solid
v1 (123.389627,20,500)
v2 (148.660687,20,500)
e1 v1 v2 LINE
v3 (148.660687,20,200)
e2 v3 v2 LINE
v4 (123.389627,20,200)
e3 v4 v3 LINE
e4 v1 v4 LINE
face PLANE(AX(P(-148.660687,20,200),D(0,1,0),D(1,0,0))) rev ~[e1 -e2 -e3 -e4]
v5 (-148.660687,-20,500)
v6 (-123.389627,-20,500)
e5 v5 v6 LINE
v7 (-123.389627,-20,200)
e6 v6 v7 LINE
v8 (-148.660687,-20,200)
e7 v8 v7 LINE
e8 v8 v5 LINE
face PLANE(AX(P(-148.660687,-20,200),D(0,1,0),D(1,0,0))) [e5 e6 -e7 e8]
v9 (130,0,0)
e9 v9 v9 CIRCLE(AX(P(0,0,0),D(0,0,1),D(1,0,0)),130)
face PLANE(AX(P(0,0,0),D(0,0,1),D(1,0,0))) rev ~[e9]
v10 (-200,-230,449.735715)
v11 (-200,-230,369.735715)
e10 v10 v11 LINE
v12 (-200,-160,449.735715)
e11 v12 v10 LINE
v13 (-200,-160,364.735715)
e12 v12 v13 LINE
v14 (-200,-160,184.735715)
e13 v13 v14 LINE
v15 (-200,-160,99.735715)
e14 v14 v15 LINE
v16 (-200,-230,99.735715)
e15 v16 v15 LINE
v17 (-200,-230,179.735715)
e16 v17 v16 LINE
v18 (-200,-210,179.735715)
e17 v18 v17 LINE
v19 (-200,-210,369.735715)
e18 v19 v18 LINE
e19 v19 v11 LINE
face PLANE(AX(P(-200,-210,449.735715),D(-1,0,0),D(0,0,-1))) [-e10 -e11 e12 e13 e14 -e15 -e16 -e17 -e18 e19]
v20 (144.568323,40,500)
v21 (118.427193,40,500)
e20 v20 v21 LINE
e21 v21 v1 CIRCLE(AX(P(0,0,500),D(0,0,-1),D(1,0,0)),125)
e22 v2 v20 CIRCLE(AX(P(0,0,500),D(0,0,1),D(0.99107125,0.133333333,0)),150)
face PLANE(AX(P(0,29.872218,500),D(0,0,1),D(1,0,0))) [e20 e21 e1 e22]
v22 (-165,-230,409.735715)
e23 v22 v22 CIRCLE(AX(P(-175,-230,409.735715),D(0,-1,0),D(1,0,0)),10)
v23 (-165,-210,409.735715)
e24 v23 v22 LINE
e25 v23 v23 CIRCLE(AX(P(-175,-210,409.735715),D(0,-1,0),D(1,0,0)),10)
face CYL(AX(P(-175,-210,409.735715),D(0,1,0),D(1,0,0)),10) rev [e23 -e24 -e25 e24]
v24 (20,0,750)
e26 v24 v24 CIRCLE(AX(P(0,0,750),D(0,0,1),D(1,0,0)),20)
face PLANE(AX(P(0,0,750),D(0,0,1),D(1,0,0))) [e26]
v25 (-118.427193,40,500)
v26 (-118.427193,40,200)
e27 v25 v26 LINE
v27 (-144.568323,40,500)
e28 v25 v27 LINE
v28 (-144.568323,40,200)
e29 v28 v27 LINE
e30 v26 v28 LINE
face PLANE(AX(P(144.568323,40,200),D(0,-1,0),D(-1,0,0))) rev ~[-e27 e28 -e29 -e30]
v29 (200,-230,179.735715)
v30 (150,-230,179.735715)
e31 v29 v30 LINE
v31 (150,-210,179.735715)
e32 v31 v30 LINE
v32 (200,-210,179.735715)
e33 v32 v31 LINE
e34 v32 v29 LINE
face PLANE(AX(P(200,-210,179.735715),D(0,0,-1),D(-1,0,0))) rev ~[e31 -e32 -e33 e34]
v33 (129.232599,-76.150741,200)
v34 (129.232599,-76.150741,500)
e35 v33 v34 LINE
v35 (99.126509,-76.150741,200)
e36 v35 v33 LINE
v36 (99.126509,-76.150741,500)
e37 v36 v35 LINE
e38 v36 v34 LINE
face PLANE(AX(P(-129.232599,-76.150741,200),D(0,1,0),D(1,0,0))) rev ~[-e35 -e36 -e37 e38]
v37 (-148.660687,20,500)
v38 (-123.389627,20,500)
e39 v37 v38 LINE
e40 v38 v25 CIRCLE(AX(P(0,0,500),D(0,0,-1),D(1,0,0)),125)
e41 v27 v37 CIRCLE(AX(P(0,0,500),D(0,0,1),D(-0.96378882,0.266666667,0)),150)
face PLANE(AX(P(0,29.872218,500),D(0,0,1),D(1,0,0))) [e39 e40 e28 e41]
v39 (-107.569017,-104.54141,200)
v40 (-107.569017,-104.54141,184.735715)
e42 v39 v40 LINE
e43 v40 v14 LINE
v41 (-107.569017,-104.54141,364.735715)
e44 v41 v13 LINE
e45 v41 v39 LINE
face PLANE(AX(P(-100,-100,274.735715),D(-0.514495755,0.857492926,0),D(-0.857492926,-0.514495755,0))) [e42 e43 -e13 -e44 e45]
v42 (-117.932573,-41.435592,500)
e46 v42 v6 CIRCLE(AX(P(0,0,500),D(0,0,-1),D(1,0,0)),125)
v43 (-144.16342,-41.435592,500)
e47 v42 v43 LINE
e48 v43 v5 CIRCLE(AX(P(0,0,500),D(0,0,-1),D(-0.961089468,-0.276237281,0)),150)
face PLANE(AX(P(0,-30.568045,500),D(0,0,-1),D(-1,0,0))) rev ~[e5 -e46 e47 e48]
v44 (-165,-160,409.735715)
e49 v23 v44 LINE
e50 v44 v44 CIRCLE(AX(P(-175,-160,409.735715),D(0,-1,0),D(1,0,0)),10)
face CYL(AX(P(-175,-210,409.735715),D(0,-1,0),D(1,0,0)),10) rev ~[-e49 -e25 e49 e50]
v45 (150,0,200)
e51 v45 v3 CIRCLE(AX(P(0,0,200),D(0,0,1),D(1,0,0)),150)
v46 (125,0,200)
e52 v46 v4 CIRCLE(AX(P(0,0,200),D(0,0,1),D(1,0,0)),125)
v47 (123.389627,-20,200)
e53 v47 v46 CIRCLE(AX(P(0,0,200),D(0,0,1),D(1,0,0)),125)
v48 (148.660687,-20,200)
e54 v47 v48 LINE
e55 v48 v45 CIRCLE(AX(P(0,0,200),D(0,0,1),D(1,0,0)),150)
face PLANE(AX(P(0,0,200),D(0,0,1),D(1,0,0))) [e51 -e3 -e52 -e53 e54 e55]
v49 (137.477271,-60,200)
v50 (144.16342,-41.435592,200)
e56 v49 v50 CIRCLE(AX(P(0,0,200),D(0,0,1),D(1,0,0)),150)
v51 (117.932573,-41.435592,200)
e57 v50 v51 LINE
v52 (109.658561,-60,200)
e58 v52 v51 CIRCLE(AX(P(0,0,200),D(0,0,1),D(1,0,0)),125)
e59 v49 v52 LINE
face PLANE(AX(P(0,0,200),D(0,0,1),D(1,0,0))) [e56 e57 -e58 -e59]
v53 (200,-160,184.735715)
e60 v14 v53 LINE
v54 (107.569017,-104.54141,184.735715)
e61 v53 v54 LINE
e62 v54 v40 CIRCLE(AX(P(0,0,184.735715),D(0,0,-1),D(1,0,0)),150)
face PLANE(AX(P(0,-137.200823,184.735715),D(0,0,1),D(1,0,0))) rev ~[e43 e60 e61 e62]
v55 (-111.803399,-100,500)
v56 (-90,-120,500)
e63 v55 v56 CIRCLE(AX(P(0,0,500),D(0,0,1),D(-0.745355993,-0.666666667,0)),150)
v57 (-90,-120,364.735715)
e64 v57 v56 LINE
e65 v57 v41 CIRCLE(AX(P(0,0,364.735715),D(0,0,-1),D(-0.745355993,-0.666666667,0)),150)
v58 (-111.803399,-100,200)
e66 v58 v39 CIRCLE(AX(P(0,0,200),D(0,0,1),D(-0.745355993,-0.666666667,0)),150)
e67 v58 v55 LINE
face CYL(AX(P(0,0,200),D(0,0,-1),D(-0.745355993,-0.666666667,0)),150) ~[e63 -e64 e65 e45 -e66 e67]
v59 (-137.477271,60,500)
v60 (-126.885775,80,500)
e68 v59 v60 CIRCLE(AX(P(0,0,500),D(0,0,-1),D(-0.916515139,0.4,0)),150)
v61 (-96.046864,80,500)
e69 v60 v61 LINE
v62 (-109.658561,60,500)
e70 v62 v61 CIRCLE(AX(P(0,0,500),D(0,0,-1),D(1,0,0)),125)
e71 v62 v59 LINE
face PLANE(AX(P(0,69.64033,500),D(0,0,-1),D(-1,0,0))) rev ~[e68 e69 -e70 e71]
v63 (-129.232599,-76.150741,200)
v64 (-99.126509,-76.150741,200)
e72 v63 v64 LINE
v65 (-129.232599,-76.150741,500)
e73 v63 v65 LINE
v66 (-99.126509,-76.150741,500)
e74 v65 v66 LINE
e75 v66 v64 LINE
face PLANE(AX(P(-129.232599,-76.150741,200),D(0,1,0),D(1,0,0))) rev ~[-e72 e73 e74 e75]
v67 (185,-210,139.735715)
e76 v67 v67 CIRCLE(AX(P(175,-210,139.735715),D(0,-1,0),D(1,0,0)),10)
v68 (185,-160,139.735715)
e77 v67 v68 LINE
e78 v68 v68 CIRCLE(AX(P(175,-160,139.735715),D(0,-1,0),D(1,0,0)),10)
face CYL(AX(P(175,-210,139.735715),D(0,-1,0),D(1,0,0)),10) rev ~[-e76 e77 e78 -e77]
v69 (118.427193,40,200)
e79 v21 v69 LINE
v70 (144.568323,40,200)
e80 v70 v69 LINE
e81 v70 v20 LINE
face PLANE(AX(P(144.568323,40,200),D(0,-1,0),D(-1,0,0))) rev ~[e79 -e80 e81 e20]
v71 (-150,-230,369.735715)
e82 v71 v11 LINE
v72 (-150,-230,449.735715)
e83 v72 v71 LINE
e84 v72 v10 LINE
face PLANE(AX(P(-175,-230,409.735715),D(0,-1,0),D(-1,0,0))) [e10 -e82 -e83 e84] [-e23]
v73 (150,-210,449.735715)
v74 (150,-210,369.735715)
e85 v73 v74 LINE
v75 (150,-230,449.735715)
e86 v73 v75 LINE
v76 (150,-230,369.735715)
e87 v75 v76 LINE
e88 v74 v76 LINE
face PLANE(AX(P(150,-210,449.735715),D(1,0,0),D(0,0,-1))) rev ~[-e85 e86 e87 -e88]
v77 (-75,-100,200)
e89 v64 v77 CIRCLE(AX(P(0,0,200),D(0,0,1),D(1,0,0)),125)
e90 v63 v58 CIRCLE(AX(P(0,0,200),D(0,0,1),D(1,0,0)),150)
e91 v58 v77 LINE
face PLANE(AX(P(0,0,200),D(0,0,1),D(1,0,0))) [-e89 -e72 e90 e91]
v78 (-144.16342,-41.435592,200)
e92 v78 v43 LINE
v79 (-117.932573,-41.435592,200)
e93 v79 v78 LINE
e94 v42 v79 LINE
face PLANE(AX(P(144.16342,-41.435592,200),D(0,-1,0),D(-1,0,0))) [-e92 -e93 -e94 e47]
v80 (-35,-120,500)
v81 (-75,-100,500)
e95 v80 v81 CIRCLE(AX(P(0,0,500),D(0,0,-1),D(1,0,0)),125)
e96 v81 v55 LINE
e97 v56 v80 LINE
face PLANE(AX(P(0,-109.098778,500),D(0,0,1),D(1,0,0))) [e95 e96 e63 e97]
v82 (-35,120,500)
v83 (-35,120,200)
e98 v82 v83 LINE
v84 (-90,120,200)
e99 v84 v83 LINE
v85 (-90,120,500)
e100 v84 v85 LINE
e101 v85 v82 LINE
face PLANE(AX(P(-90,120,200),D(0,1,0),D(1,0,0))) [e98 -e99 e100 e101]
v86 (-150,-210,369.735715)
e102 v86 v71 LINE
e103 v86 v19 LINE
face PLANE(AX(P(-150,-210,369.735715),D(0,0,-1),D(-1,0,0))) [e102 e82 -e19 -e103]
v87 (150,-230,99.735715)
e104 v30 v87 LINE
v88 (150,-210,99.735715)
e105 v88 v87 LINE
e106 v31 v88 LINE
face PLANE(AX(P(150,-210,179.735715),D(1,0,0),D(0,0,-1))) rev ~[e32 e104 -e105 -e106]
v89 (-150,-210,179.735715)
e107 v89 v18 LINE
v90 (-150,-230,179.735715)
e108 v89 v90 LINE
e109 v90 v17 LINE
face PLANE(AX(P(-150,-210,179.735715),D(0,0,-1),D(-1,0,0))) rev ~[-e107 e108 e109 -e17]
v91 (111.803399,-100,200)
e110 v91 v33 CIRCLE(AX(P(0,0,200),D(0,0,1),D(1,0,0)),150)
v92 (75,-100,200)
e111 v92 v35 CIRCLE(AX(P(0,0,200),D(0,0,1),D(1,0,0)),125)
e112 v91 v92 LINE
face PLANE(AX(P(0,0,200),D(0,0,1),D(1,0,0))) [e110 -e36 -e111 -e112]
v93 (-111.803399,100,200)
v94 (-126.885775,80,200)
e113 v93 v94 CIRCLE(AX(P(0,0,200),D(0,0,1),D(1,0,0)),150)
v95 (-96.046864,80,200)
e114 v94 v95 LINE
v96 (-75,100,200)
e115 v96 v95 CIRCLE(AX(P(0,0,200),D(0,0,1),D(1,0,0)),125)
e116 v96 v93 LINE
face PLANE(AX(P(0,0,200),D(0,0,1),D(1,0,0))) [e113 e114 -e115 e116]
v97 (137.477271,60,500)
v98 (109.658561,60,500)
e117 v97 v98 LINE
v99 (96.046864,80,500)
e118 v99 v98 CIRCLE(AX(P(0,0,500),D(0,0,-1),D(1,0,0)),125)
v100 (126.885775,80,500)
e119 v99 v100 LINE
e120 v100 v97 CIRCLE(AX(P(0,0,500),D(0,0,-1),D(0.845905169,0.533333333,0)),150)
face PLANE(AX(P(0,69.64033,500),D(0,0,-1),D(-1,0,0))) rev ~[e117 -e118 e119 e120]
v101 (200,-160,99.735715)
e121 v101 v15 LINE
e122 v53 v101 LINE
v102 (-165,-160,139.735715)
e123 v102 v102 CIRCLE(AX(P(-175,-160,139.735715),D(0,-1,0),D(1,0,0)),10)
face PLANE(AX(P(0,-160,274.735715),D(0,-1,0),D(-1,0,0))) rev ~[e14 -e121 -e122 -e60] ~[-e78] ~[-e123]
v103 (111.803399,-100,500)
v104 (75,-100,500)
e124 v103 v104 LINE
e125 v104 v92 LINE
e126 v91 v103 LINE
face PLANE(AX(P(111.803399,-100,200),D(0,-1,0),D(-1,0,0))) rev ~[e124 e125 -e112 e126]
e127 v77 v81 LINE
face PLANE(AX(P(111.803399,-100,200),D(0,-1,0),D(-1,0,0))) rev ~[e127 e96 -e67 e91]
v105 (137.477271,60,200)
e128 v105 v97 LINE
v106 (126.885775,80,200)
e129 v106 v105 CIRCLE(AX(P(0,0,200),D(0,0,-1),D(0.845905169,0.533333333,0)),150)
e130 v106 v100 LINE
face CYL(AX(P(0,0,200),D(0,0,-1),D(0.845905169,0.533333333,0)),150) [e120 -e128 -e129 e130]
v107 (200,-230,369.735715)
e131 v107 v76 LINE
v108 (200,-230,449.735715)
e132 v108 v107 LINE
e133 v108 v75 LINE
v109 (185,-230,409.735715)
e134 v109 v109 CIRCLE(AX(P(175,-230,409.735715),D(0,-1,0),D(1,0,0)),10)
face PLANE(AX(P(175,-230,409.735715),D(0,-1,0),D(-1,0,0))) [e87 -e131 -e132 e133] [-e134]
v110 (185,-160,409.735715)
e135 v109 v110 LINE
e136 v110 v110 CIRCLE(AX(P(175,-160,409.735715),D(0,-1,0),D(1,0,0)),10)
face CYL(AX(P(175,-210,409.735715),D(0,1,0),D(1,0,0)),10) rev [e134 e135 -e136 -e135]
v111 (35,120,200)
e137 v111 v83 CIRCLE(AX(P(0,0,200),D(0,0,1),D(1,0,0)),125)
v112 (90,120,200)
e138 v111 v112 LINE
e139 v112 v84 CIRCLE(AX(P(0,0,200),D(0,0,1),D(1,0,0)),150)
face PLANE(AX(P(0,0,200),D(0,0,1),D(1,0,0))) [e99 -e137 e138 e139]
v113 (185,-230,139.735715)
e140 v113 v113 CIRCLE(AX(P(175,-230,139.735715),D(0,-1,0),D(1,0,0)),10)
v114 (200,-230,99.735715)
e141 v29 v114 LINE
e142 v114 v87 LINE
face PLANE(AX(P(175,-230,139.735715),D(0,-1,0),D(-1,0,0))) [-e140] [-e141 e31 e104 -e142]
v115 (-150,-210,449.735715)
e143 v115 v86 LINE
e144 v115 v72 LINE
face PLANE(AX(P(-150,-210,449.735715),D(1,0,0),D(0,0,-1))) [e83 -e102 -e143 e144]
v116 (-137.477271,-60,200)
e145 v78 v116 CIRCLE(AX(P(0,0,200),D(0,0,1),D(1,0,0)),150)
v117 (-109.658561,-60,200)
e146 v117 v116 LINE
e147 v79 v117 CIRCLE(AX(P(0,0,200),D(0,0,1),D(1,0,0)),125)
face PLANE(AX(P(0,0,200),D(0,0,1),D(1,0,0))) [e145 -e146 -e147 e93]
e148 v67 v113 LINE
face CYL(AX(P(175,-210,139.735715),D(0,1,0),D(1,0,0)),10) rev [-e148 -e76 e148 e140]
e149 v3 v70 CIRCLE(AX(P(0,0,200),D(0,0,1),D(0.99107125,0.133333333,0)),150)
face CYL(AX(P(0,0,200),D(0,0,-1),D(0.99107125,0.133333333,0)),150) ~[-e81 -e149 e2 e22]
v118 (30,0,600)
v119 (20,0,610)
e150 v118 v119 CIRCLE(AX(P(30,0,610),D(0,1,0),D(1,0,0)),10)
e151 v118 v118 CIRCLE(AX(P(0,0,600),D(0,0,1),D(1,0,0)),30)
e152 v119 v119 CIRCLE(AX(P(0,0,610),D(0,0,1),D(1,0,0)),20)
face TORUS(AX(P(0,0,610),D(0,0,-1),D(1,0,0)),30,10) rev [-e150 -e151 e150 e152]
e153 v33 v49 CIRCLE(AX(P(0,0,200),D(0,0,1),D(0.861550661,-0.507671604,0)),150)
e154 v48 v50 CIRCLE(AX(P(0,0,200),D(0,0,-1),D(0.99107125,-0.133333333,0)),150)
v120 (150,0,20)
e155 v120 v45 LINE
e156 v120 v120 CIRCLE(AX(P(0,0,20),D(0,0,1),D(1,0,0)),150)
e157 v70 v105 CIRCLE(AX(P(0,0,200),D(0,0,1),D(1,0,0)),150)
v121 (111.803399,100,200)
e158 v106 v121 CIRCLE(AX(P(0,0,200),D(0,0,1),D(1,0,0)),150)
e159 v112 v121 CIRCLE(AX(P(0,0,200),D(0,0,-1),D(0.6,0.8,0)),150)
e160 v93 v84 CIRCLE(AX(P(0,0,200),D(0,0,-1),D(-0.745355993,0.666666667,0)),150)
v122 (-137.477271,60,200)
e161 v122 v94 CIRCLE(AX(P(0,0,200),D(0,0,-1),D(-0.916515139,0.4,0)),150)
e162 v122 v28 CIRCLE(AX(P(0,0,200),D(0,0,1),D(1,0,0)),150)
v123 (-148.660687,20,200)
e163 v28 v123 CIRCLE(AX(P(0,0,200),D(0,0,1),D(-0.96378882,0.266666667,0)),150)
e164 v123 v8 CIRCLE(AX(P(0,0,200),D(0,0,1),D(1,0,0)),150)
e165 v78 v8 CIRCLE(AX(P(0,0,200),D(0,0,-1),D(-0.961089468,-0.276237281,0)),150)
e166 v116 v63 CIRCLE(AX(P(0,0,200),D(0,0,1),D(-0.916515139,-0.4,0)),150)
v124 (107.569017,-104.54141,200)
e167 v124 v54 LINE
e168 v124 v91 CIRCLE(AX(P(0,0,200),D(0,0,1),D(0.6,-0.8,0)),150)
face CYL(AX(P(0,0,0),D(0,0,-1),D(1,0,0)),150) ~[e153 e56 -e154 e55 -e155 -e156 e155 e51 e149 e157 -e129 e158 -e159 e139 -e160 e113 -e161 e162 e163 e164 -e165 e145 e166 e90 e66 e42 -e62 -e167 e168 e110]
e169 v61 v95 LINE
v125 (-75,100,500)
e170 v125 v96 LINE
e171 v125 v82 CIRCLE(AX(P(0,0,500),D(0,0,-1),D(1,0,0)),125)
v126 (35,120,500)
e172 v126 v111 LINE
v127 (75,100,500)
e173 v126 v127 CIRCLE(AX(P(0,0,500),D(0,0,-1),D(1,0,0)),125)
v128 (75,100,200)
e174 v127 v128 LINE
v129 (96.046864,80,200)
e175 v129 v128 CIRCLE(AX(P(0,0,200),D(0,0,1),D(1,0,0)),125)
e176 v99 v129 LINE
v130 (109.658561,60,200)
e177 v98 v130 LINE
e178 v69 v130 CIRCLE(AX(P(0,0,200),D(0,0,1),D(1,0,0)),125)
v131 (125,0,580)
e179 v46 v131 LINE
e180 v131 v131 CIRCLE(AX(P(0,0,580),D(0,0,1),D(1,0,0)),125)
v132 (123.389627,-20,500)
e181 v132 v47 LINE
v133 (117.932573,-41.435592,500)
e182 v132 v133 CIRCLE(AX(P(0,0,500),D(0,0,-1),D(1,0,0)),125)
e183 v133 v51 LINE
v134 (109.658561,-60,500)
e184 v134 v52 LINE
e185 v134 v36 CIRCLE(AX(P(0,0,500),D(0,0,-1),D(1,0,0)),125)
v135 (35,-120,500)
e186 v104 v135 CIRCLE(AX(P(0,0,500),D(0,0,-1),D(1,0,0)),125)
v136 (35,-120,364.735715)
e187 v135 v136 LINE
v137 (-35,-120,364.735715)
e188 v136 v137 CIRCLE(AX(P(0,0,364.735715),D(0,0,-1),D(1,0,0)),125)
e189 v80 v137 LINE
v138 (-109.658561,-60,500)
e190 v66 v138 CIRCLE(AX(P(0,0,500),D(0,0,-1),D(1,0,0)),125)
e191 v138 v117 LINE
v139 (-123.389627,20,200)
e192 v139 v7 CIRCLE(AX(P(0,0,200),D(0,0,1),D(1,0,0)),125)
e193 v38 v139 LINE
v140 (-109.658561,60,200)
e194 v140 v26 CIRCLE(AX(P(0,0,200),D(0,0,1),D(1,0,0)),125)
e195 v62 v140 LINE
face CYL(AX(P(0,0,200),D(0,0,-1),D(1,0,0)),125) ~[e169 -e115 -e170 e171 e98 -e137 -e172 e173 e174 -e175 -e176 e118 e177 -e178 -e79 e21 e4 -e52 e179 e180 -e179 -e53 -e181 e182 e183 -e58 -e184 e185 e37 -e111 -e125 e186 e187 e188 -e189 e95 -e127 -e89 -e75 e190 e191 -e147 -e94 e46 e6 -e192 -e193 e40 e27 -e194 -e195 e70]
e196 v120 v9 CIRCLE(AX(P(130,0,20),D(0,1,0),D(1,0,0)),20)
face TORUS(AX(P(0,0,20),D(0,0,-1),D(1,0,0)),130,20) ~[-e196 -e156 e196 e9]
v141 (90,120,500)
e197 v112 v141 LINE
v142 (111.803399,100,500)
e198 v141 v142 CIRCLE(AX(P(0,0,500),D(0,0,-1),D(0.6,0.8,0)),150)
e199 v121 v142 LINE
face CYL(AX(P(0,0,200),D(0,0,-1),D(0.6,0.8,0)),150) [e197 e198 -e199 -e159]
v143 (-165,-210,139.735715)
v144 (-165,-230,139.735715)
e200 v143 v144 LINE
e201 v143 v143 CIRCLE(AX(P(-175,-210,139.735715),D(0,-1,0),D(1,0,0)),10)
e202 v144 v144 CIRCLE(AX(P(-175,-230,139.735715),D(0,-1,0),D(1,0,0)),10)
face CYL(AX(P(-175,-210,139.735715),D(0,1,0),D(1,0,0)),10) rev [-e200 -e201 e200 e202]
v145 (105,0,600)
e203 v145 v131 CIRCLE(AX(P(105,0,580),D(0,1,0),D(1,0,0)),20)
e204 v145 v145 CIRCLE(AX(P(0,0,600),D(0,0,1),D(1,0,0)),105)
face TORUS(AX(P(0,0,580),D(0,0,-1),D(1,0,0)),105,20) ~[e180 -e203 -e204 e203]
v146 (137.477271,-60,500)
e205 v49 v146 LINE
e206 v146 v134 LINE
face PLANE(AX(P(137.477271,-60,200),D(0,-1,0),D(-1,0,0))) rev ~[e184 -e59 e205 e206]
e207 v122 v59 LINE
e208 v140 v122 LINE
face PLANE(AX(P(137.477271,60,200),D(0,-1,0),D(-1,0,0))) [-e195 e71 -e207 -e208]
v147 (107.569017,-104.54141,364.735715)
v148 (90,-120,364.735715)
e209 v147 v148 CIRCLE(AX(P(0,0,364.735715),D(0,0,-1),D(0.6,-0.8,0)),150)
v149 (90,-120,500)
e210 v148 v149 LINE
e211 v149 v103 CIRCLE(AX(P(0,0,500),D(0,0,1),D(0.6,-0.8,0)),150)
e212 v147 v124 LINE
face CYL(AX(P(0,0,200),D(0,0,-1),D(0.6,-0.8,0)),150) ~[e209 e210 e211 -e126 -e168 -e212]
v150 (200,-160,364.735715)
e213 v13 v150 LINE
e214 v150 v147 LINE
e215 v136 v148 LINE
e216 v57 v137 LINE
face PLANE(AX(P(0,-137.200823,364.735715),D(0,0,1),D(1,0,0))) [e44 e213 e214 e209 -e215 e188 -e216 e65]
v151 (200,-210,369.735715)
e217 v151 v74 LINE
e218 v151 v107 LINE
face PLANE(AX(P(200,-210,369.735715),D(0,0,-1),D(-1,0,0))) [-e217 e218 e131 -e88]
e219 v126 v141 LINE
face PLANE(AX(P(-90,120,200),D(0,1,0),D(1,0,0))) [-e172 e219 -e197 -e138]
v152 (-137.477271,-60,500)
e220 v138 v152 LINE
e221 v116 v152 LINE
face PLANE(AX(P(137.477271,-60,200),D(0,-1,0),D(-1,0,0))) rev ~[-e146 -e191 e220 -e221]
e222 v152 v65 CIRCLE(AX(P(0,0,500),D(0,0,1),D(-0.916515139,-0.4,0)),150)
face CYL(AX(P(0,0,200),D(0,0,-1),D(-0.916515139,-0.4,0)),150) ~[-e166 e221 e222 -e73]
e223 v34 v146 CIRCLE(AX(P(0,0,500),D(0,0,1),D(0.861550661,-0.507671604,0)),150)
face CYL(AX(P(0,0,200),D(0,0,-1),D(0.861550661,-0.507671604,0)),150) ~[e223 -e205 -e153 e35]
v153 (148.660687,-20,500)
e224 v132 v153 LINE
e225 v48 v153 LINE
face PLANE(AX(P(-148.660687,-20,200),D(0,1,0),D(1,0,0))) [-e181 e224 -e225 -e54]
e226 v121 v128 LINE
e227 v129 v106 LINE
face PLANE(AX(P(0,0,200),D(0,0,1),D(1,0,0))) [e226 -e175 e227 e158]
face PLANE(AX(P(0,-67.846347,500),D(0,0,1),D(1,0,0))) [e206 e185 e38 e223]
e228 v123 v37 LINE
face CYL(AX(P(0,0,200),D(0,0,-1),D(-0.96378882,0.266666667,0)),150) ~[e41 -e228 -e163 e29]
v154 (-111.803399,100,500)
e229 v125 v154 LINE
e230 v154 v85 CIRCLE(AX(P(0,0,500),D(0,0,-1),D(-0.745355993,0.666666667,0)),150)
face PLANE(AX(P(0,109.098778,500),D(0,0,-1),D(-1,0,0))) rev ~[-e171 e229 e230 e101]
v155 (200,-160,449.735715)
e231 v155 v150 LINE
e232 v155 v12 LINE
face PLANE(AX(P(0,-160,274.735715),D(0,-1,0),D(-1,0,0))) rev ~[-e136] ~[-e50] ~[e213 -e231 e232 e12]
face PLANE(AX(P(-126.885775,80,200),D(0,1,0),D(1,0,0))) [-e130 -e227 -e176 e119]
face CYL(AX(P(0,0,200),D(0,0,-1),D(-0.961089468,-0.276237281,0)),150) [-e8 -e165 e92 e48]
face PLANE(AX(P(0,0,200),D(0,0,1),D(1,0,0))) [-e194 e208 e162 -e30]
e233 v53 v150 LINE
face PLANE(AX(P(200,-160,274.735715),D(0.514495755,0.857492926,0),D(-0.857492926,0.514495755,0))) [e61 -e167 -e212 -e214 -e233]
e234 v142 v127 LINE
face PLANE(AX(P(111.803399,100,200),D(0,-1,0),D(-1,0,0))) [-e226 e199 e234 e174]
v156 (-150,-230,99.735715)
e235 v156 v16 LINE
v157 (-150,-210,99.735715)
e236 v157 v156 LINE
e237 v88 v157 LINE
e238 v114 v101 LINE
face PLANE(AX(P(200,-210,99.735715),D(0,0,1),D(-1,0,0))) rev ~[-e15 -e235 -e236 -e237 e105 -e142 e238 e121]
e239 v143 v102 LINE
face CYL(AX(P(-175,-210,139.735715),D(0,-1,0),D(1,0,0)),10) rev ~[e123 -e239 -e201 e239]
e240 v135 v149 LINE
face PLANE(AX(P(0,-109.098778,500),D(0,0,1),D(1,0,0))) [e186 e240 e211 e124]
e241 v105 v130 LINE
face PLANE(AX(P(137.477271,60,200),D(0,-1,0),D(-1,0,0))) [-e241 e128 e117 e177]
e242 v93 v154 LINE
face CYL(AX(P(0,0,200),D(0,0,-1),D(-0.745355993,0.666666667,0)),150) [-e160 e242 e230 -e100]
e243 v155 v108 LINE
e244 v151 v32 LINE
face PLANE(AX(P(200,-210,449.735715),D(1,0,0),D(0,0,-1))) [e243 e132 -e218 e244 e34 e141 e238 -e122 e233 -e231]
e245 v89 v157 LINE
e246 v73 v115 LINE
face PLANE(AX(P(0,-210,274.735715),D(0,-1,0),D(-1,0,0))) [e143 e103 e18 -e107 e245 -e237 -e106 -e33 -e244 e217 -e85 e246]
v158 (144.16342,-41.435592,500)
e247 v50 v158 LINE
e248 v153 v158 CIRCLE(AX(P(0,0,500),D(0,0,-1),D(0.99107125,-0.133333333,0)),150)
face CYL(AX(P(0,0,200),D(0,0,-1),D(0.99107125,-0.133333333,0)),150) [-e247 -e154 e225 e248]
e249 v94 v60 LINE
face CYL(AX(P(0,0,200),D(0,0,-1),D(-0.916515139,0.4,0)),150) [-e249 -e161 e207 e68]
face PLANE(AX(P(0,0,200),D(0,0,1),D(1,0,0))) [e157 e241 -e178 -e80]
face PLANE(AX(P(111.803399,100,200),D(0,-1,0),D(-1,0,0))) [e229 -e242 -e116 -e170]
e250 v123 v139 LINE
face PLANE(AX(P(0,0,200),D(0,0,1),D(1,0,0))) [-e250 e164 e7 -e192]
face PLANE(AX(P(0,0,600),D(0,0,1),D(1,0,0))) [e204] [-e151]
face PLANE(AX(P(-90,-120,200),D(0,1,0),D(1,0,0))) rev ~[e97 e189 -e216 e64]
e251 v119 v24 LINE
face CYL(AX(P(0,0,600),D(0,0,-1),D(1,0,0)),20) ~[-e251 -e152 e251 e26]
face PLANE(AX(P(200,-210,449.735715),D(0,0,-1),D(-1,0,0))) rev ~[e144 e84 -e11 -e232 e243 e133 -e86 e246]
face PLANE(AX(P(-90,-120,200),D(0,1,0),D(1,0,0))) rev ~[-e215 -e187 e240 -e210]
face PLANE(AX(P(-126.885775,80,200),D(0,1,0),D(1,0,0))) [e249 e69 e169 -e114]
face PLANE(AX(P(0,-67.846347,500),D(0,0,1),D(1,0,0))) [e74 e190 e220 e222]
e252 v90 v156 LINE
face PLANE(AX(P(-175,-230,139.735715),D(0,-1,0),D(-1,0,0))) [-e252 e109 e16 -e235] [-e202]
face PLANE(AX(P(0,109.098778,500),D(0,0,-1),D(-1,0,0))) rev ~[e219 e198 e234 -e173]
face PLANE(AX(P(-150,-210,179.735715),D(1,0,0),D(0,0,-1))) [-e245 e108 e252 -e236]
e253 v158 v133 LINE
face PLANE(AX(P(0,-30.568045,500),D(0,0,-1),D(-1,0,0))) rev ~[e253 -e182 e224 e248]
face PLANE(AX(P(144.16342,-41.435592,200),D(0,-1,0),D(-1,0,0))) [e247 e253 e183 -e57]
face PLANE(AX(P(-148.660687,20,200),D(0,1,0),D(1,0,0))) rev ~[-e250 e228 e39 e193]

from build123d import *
from build123d.topology import SkipClean

# Parameters (mm, degrees)
SKETCH1_R            = 150
BOSS_EXTRUDE1_DEPTH  = 200
BOSS_EXTRUDE11_DEPTH = 300
BOSS_EXTRUDE14_START = -300
SKETCH12_R           = 125
BOSS_EXTRUDE14_DEPTH = 400
SKETCH13_W           = 400
SKETCH13_H           = 350
SKETCH13_R           = 10
BOSS_EXTRUDE15_DEPTH = 50
SKETCH13_3_W         = 50
SKETCH13_3_H         = 80
SKETCH13_3_R         = 10
BOSS_EXTRUDE16_DEPTH = 20
BOSS_EXTRUDE17_DEPTH = 90
SKETCH16_R           = 20
BOSS_EXTRUDE18_DEPTH = 150
FILLET2_R            = 10
FILLET3_R            = 20


with BuildPart() as part:
    # Sketch1 → Boss-Extrude1 (new body)
    with BuildSketch(Plane.XY):
        Circle(SKETCH1_R)
    extrude(amount=BOSS_EXTRUDE1_DEPTH)

    # Sketch7 → Boss-Extrude11 (add)
    with SkipClean():  # the faces are left unmerged after this step: merging them gives an invalid solid
        with BuildSketch(Plane.XY.offset(200)):
            with BuildLine():
                Line((-90, 120), (90, 120))
                ThreePointArc((90, 120), (101.396020382, 110.538893837), (111.803398875, 100))
                Line((111.803398875, 100), (-111.803398875, 100))
                ThreePointArc((-111.803398875, 100), (-101.396020382, 110.538893837), (-90, 120))
            make_face()
            with BuildLine():
                Line((-126.885775404, 80), (126.885775404, 80))
                ThreePointArc((126.885775404, 80), (132.559251115, 70.200035213), (137.477270849, 60))
                Line((137.477270849, 60), (-137.477270849, 60))
                ThreePointArc((-137.477270849, 60), (-132.559251115, 70.200035213), (-126.885775404, 80))
            make_face()
            with BuildLine():
                Line((144.16342013, -41.435592144), (-144.16342013, -41.435592144))
                ThreePointArc((-144.16342013, -41.435592144), (-146.803816882, -30.799989431), (-148.660687473, -20))
                Line((-148.660687473, -20), (148.660687473, -20))
                ThreePointArc((148.660687473, -20), (146.803816882, -30.799989431), (144.16342013, -41.435592144))
            make_face()
            with BuildLine():
                Line((111.803398875, -100), (-111.803398875, -100))
                ThreePointArc((-111.803398875, -100), (-101.396020382, -110.538893837), (-90, -120))
                Line((-90, -120), (90, -120))
                ThreePointArc((90, -120), (101.396020382, -110.538893837), (111.803398875, -100))
            make_face()
            with BuildLine():
                Line((144.568322948, 40), (-144.568322948, 40))
                ThreePointArc((-144.568322948, 40), (-146.955139883, 30.069700063), (-148.660687473, 20))
                Line((-148.660687473, 20), (148.660687473, 20))
                ThreePointArc((148.660687473, 20), (146.955139883, 30.069700063), (144.568322948, 40))
            make_face()
            with BuildLine():
                Line((137.477270849, -60), (-137.477270849, -60))
                ThreePointArc((-137.477270849, -60), (-133.599215205, -68.20007109), (-129.232599216, -76.150740639))
                Line((-129.232599216, -76.150740639), (129.232599216, -76.150740639))
                ThreePointArc((129.232599216, -76.150740639), (133.599215205, -68.20007109), (137.477270849, -60))
            make_face()
        extrude(amount=BOSS_EXTRUDE11_DEPTH)



with BuildPart() as body_2:
    # Sketch12 → Boss-Extrude14 (new body)
    with BuildSketch(Plane.XY.offset(500).offset(BOSS_EXTRUDE14_START)):
        Circle(SKETCH12_R)
    extrude(amount=BOSS_EXTRUDE14_DEPTH)


with BuildPart() as body_3:
    # Sketch13 → Boss-Extrude15 (new body)
    with BuildSketch(Plane(origin=(0, -210, 0), x_dir=(-1, 0, 0), z_dir=(0, -1, 0))):
        with Locations((0, -274.735715433)):
            Rectangle(SKETCH13_W, SKETCH13_H)
        with Locations(Location((-175, -139.735715433, 0), (0, 0, 180))):
            Circle(SKETCH13_R, mode=Mode.SUBTRACT)
        with Locations(Location((175, -139.735715433, 0), (0, 0, 180))):
            Circle(SKETCH13_R, mode=Mode.SUBTRACT)
        with Locations(Location((175, -409.735715433, 0), (0, 0, 180))):
            Circle(SKETCH13_R, mode=Mode.SUBTRACT)
        with Locations(Location((-175, -409.735715433, 0), (0, 0, 180))):
            Circle(SKETCH13_R, mode=Mode.SUBTRACT)
    extrude(amount=-BOSS_EXTRUDE15_DEPTH)

    # Sketch13<3> → Boss-Extrude16 (add)
    # profile 1 of 4: a face of its own
    with BuildSketch(Plane(origin=(0, -210, 0), x_dir=(-1, 0, 0), z_dir=(0, -1, 0))):
        with Locations((-175, -409.735715433)):
            Rectangle(SKETCH13_3_W, SKETCH13_3_H)
        with Locations(Location((-175, -409.735715433, 0), (0, 0, 180))):
            Circle(SKETCH13_3_R, mode=Mode.SUBTRACT)
    # profile 2 of 4: a face of its own
    with BuildSketch(Plane(origin=(0, -210, 0), x_dir=(-1, 0, 0), z_dir=(0, -1, 0))):
        with Locations((-175, -139.735715433)):
            Rectangle(SKETCH13_3_W, SKETCH13_3_H)
        with Locations(Location((-175, -139.735715433, 0), (0, 0, 180))):
            Circle(SKETCH13_3_R, mode=Mode.SUBTRACT)
    # profile 3 of 4: a face of its own
    with BuildSketch(Plane(origin=(0, -210, 0), x_dir=(-1, 0, 0), z_dir=(0, -1, 0))):
        with Locations((175, -409.735715433)):
            Rectangle(SKETCH13_3_W, SKETCH13_3_H)
        with Locations(Location((175, -409.735715433, 0), (0, 0, 180))):
            Circle(SKETCH13_3_R, mode=Mode.SUBTRACT)
    # profile 4 of 4: a face of its own
    with BuildSketch(Plane(origin=(0, -210, 0), x_dir=(-1, 0, 0), z_dir=(0, -1, 0))):
        with Locations((175, -139.735715433)):
            Rectangle(SKETCH13_3_W, SKETCH13_3_H)
        with Locations(Location((175, -139.735715433, 0), (0, 0, 180))):
            Circle(SKETCH13_3_R, mode=Mode.SUBTRACT)
    extrude(amount=BOSS_EXTRUDE16_DEPTH)


with BuildPart() as part_1:
    with SkipClean():  # the faces are left unmerged after this step: merging them gives an invalid solid
        add(part.part)

        add(body_2.part)  # Boss-Extrude17 merges body 2

        add(body_3.part)  # Boss-Extrude17 merges body 3
        # Sketch14 → Boss-Extrude17 (add, symmetric)
        with BuildSketch(Plane.XY.offset(274.735715433)):
            Polygon((-200, -160), (200, -160), (100, -100), (-100, -100), align=None)
        extrude(amount=BOSS_EXTRUDE17_DEPTH, both=True)

    # Sketch16 → Boss-Extrude18 (add)
    with BuildSketch(Plane.XY.offset(600)):
        Circle(SKETCH16_R)
    extrude(amount=BOSS_EXTRUDE18_DEPTH)

    # Fillet2
    fillet2_edges = [part_1.edges().sort_by_distance(p)[0] for p in [
        (-20, 0, 600),
    ]]
    fillet(fillet2_edges, radius=FILLET2_R)

    # Fillet3
    fillet3_edges = [part_1.edges().sort_by_distance(p)[0] for p in [
        (-125, 0, 600),
        (-150, 0, 0),
    ]]
    fillet(fillet3_edges, radius=FILLET3_R)


solid = part_1.part
